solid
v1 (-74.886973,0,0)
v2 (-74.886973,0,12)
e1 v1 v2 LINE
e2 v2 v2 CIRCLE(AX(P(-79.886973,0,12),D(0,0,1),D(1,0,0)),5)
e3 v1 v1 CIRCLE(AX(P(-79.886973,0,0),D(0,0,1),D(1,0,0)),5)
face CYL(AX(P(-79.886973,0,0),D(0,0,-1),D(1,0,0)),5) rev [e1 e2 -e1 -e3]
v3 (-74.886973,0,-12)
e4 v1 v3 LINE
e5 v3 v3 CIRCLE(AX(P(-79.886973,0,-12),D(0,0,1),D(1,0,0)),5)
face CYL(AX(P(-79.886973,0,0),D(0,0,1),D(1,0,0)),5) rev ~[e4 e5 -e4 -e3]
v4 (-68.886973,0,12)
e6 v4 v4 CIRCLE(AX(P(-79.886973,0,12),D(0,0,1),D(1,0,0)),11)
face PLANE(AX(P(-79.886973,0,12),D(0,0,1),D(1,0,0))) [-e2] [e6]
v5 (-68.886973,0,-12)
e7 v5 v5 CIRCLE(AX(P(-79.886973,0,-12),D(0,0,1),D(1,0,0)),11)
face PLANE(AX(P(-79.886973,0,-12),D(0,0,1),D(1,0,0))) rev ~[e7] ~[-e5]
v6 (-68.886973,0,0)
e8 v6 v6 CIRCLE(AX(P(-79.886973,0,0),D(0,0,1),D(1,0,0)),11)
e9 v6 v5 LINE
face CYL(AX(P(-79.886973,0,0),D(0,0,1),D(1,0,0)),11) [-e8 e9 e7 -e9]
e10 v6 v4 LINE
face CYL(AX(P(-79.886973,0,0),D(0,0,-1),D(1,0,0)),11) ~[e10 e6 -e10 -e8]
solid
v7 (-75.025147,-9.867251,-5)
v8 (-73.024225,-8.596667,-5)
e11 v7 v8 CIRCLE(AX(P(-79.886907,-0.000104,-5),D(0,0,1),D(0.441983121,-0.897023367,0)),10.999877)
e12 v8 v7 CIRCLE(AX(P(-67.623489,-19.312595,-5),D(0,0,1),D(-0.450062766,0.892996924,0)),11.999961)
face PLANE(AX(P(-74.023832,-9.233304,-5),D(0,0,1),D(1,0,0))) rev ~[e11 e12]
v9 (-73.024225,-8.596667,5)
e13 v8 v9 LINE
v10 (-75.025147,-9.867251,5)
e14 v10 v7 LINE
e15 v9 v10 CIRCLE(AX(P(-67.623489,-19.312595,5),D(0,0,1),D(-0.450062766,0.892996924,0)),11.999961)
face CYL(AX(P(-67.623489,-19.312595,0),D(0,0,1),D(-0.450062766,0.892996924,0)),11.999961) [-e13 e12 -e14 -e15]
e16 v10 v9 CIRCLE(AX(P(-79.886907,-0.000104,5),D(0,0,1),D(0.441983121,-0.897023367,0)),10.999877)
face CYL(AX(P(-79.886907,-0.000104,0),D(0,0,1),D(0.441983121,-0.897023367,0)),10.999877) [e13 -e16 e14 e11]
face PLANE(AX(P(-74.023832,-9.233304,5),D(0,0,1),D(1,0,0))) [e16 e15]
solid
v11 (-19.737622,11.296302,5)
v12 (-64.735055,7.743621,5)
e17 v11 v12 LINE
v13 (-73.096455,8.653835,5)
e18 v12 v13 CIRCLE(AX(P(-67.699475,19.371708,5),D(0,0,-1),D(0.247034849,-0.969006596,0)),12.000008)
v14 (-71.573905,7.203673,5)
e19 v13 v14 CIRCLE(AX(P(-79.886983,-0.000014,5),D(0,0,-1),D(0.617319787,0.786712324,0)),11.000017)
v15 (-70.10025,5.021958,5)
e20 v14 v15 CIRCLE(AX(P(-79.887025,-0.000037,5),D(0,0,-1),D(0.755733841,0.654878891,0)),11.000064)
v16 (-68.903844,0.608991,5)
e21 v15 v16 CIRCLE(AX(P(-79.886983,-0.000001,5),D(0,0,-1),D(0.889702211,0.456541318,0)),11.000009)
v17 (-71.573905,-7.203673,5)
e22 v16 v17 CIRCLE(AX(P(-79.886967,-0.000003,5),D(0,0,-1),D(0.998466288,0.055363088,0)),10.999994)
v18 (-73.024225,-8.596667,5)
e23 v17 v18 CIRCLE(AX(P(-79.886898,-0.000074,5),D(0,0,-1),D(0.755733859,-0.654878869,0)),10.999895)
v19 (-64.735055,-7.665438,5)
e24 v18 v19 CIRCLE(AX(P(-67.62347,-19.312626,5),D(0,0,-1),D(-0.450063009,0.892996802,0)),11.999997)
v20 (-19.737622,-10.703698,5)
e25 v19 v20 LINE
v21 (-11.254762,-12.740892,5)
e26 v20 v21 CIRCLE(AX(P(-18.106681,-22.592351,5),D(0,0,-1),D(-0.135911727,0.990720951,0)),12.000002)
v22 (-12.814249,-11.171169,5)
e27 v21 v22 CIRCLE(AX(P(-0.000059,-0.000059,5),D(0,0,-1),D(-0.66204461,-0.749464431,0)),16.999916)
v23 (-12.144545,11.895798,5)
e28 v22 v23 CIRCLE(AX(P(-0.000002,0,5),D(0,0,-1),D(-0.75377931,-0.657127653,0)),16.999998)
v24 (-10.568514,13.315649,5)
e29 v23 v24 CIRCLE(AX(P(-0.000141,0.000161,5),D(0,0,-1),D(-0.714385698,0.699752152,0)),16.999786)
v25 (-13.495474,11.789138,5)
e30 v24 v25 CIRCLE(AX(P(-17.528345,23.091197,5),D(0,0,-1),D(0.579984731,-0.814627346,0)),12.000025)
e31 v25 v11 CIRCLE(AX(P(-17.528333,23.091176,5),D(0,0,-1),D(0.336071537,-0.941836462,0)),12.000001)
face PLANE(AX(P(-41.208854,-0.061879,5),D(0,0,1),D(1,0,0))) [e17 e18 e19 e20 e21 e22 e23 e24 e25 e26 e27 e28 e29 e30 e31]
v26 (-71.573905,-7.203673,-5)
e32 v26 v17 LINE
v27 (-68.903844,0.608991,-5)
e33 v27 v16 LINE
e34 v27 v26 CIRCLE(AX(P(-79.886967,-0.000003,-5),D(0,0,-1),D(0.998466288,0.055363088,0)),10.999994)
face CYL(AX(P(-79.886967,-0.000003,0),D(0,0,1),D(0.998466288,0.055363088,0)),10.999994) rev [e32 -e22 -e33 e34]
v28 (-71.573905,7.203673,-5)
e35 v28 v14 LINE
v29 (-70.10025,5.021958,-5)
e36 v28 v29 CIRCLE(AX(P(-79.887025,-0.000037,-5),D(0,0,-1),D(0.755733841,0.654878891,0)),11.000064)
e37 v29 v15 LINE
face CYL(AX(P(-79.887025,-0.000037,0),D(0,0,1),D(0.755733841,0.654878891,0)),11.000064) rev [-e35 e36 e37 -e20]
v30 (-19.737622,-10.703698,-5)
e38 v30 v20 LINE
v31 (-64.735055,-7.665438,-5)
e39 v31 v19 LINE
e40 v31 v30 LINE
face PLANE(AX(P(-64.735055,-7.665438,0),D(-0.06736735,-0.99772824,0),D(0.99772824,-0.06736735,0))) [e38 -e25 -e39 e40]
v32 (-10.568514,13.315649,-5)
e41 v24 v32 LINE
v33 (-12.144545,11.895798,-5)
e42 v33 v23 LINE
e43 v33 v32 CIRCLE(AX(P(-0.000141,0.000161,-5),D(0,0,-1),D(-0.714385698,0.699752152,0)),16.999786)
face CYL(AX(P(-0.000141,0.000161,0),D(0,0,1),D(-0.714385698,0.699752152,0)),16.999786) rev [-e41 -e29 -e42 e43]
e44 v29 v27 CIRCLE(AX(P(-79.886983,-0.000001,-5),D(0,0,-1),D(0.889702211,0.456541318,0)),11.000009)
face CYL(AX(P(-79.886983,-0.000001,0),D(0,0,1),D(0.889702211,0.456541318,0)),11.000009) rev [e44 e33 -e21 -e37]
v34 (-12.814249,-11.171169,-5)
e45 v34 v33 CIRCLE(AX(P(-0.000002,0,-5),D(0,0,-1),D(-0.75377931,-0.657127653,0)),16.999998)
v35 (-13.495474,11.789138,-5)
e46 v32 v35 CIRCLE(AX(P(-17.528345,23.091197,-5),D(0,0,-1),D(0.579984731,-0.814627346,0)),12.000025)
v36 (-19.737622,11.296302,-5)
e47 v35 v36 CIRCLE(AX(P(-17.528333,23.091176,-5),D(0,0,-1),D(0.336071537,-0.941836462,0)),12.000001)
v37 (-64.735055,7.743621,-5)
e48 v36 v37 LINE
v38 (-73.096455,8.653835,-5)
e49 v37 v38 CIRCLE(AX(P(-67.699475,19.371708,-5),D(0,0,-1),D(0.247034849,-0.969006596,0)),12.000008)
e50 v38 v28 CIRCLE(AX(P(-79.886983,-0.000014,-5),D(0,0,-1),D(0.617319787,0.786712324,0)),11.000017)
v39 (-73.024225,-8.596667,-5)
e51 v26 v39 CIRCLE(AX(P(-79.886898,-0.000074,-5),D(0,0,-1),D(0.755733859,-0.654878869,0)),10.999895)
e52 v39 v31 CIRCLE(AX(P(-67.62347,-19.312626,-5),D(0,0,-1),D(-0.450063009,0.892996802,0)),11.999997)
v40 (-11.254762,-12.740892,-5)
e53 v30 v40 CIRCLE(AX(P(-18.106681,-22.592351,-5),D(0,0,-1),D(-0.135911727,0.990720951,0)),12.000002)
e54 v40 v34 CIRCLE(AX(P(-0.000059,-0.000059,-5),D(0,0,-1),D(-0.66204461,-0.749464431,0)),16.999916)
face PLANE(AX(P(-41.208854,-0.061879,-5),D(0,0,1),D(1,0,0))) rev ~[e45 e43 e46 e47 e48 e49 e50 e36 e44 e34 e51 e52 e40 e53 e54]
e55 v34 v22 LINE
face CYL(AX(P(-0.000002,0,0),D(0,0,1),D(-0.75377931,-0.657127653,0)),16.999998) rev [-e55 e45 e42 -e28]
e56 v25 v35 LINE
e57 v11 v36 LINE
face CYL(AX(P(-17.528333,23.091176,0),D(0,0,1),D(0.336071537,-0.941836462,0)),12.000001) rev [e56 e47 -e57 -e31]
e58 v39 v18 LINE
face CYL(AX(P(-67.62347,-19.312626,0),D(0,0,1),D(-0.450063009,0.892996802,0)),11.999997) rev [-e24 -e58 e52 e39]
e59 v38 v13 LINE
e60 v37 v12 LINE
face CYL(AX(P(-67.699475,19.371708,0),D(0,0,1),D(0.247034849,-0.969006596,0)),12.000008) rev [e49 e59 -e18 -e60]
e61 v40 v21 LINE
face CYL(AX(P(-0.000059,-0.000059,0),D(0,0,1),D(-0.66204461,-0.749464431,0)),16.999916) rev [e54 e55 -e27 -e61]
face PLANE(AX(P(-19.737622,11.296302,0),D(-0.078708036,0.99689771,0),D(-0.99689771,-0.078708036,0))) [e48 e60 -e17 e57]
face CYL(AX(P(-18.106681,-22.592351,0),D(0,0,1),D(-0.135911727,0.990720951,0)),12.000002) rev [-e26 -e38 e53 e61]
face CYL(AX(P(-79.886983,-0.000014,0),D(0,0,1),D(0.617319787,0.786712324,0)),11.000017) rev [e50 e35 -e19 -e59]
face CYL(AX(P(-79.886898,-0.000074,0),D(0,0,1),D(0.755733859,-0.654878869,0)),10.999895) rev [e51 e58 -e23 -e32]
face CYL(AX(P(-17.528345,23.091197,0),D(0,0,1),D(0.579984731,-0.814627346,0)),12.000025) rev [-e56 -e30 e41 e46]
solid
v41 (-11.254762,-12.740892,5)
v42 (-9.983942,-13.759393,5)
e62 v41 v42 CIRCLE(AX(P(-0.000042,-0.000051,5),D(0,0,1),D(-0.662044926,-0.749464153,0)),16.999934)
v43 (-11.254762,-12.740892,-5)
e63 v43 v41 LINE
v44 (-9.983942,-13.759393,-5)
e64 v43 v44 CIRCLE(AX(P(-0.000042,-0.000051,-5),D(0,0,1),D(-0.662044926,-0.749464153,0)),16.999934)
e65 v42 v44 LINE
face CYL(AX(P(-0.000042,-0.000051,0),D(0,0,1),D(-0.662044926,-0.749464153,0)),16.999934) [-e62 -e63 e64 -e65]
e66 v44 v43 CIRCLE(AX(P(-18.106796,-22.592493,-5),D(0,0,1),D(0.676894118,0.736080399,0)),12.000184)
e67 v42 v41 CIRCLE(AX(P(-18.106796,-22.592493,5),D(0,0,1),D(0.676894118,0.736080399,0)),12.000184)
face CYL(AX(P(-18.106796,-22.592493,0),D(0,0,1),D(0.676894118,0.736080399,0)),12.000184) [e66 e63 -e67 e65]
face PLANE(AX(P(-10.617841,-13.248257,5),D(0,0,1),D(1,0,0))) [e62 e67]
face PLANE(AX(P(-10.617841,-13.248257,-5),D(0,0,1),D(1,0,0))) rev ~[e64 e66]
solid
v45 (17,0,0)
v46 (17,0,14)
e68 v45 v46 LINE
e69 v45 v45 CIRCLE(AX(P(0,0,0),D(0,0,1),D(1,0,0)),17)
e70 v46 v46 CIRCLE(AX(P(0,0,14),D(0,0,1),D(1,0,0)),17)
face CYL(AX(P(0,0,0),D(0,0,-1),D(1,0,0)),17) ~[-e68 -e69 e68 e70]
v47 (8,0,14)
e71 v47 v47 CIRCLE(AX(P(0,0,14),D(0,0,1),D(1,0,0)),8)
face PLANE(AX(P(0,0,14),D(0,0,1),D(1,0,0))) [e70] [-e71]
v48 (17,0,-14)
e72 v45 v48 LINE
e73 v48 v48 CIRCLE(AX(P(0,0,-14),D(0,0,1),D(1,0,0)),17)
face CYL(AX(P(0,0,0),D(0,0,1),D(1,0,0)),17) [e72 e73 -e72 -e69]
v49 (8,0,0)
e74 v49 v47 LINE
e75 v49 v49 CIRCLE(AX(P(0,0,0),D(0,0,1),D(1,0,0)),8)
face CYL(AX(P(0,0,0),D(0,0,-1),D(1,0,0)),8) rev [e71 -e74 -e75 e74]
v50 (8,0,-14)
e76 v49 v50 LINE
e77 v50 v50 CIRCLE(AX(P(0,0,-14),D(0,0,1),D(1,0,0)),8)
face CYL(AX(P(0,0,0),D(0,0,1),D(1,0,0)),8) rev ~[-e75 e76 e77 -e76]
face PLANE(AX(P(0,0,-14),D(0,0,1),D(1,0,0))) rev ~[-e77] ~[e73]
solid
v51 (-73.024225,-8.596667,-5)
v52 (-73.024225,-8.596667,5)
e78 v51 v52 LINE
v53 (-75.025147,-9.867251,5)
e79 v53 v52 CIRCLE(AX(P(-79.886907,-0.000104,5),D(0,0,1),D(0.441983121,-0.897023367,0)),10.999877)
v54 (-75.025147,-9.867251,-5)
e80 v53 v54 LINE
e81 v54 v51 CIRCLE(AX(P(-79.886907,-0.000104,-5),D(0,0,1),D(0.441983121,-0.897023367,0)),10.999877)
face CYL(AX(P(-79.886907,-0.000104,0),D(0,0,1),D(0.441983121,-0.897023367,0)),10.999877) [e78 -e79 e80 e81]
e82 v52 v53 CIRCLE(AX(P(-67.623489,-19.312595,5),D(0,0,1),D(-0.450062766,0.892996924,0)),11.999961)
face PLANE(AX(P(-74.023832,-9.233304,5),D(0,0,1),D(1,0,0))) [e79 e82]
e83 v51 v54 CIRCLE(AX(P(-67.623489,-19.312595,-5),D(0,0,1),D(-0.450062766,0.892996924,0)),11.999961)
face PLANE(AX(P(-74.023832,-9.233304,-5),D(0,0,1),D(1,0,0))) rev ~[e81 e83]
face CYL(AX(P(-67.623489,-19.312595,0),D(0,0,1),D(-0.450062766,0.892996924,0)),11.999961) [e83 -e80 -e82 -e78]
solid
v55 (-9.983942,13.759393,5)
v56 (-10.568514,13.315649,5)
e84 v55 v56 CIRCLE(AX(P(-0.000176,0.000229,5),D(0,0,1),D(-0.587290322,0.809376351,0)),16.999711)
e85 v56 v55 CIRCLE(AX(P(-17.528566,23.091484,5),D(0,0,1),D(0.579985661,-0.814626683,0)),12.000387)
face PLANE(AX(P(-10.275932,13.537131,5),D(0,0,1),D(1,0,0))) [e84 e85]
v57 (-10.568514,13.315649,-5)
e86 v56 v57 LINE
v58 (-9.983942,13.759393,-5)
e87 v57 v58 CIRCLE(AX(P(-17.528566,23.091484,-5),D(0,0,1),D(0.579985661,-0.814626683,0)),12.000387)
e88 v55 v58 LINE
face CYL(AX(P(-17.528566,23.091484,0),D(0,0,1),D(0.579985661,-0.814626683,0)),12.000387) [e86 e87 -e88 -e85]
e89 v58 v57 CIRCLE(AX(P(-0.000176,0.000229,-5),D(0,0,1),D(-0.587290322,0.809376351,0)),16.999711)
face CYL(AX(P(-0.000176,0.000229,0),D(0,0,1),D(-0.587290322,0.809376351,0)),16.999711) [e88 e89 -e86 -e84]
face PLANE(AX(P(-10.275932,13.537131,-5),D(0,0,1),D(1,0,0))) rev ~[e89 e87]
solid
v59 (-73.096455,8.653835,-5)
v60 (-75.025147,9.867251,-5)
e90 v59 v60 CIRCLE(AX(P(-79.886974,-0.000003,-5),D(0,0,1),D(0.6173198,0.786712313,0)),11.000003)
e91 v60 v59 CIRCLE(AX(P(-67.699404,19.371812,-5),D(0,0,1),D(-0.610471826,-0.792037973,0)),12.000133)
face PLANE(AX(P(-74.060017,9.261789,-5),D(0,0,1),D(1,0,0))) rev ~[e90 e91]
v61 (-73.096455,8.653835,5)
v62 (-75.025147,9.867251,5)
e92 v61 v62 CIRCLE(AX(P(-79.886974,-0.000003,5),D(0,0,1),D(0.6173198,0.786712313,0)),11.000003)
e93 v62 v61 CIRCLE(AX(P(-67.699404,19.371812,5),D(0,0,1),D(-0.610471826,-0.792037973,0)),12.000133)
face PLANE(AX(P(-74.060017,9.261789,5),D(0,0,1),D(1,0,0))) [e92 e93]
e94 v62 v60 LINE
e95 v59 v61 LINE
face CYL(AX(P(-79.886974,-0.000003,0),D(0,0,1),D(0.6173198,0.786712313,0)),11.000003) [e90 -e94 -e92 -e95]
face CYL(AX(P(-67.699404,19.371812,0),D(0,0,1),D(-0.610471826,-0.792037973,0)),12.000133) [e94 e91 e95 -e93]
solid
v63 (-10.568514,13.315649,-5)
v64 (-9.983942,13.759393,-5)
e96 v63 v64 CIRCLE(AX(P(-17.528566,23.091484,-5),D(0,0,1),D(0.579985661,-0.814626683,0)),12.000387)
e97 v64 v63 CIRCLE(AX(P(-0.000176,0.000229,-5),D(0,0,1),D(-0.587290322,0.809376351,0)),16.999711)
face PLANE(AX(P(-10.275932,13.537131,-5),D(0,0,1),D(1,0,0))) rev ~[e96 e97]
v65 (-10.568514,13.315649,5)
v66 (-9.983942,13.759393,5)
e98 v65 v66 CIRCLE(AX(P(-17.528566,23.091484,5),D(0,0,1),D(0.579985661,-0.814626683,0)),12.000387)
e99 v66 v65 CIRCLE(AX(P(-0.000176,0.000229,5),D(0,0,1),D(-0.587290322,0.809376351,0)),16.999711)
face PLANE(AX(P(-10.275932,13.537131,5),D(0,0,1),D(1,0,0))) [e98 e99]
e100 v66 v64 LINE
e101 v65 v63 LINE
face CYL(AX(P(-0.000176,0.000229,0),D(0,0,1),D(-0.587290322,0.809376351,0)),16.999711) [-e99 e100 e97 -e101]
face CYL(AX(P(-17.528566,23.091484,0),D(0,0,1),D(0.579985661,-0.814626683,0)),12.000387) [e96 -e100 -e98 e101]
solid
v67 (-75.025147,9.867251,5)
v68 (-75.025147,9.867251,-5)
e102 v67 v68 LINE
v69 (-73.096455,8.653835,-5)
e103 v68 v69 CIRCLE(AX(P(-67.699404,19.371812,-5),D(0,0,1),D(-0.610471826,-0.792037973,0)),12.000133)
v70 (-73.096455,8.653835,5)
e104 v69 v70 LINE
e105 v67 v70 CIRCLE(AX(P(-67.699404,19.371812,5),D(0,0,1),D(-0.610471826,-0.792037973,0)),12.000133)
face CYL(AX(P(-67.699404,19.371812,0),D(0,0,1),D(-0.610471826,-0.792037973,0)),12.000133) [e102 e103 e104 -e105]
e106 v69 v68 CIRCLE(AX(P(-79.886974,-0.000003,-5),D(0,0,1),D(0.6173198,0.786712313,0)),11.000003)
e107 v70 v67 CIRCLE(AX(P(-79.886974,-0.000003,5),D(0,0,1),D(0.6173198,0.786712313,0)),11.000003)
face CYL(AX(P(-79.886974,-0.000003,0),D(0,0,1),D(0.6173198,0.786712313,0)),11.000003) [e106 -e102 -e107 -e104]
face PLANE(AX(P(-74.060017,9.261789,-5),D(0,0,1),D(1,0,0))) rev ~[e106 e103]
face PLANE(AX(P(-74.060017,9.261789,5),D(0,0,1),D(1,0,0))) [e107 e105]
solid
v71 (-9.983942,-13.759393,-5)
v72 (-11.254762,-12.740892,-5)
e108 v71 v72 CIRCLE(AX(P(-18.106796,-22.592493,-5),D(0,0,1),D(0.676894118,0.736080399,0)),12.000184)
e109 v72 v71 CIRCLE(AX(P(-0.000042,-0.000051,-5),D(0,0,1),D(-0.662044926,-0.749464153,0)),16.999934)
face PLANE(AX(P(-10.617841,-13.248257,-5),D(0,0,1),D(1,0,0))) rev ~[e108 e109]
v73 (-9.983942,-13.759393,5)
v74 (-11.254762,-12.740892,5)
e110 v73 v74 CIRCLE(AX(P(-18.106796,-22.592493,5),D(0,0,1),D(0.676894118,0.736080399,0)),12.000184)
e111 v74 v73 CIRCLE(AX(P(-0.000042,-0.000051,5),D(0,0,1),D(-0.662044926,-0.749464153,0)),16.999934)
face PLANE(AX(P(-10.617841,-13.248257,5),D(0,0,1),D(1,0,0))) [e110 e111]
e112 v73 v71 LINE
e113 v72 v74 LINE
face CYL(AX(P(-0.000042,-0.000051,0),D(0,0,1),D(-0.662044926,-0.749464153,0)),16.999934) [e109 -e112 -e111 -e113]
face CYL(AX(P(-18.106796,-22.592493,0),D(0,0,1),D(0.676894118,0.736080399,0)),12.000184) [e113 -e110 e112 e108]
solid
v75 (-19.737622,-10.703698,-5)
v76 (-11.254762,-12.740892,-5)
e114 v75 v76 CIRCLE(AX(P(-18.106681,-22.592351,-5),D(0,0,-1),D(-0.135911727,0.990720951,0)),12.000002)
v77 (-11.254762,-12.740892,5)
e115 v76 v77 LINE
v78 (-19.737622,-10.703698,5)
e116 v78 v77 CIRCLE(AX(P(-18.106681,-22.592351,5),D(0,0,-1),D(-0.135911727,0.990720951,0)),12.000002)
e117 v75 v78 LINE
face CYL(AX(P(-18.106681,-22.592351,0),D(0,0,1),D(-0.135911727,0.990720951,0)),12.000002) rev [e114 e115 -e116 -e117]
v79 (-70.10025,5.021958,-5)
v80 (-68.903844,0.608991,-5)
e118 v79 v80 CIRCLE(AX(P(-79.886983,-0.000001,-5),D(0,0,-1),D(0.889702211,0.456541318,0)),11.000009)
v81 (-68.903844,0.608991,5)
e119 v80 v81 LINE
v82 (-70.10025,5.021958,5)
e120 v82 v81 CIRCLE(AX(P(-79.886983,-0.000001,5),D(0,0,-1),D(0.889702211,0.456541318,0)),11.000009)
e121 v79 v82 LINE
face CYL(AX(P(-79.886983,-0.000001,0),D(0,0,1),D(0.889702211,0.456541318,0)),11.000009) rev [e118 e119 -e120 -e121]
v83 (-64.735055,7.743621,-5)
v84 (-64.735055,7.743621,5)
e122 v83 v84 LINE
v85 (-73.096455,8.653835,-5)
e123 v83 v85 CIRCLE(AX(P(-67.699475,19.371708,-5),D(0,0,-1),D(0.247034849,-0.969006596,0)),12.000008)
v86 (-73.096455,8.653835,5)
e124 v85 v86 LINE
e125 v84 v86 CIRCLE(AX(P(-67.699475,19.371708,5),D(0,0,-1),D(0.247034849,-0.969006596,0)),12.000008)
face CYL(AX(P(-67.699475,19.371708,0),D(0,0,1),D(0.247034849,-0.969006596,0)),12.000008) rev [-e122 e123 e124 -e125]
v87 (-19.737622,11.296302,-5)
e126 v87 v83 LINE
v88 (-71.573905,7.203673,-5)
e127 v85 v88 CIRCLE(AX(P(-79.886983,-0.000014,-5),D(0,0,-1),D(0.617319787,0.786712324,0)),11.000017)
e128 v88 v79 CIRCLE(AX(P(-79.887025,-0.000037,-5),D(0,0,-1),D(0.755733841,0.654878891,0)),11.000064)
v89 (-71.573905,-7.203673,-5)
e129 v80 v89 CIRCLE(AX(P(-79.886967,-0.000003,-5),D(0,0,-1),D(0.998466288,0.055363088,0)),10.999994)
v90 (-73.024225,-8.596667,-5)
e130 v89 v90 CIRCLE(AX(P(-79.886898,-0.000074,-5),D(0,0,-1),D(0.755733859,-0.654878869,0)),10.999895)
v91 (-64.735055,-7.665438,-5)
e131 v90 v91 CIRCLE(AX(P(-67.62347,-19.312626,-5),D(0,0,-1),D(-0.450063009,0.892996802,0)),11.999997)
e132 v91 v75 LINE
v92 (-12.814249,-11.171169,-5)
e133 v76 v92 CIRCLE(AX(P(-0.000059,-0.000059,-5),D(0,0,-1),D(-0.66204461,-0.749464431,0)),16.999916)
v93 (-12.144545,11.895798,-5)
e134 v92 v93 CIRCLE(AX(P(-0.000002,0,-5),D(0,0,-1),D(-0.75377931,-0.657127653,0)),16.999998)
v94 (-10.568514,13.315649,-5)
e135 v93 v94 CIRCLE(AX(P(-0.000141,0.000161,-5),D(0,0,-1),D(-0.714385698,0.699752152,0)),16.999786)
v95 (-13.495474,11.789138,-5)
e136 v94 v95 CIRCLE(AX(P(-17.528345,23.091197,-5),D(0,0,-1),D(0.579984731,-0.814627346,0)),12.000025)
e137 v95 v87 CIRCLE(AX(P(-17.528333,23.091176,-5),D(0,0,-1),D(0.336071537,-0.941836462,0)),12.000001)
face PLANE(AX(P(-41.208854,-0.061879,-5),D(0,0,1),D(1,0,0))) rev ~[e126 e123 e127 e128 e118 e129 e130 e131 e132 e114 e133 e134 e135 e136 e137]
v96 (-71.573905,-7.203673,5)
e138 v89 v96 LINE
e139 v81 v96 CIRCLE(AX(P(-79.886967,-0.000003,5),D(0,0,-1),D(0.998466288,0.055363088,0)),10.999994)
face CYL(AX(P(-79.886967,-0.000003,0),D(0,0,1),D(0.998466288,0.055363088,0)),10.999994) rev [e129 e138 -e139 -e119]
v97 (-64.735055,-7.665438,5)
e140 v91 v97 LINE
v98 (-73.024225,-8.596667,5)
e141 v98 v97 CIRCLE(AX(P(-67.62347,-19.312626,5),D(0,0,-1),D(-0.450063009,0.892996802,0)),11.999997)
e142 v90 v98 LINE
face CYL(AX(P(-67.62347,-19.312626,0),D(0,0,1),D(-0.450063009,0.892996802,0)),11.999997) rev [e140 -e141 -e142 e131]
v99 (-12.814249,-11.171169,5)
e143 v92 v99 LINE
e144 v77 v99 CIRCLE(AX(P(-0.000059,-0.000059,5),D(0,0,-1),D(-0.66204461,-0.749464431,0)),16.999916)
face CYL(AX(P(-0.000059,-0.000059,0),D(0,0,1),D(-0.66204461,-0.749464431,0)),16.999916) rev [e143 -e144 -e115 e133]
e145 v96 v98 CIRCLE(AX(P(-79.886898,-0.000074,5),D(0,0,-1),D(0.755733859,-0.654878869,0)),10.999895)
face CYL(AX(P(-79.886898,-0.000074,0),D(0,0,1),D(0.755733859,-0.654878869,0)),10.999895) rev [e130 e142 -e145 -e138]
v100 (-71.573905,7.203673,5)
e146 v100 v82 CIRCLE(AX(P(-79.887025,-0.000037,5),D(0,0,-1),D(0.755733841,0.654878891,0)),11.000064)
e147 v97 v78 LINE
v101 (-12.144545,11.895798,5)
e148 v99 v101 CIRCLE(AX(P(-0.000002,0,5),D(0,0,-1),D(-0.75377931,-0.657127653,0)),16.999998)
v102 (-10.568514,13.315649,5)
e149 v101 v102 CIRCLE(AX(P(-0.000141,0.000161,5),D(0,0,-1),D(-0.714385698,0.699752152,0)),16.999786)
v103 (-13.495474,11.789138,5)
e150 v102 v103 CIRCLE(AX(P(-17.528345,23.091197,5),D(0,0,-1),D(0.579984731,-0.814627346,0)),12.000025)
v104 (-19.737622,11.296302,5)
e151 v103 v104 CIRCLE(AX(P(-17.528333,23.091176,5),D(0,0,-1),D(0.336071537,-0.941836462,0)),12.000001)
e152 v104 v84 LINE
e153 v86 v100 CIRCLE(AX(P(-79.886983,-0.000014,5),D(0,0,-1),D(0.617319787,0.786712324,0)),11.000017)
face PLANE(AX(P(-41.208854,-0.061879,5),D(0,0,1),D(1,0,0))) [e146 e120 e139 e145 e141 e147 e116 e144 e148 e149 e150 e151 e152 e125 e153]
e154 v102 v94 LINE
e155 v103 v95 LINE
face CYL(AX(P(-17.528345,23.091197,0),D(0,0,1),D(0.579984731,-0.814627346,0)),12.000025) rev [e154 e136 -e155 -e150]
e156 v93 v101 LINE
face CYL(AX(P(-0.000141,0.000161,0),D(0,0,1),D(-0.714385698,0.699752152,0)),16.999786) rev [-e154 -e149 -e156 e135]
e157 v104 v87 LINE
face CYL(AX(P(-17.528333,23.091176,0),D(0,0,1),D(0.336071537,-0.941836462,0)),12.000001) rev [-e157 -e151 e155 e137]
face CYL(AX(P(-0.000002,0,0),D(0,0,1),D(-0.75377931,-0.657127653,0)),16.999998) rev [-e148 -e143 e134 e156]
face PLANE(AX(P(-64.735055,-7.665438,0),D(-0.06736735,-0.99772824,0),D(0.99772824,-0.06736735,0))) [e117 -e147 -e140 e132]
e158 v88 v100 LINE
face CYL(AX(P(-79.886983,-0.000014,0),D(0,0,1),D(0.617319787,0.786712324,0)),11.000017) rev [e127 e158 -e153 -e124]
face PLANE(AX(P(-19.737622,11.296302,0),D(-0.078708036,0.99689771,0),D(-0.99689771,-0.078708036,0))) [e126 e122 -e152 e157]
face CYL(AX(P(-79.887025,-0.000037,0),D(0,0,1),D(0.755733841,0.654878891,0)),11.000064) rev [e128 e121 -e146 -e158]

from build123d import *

# Parameters (mm, degrees)
F0_R      = 17
F0_R_2    = 8
F1_DEPTH  = 14
F2_R      = 17
F2_R_2    = 8
F3_DEPTH  = 14
F4_R      = 11
F4_R_2    = 5
F5_DEPTH  = 12
F6_R      = 11
F6_R_2    = 5
F7_DEPTH  = 12
F9_DEPTH  = 5
F10_DEPTH = 5


with BuildPart() as f1:
    # F0 (on Top) → F1 (new body)
    with BuildSketch(Plane.XY):
        Circle(F0_R)
        Circle(F0_R_2, mode=Mode.SUBTRACT)
    extrude(amount=-F1_DEPTH)

    # F2 (on face) → F3 (join)
    with BuildSketch(Plane.XY):
        Circle(F2_R)
        Circle(F2_R_2, mode=Mode.SUBTRACT)
    extrude(amount=F3_DEPTH)


with BuildPart() as f5:
    # F4 (on Top) → F5 (new body)
    with BuildSketch(Plane.XY):
        with Locations((-79.886973, 0)):
            Circle(F4_R)
        with Locations((-79.886973, 0)):
            Circle(F4_R_2, mode=Mode.SUBTRACT)
    extrude(amount=-F5_DEPTH)

    # F6 (on Top) → F7 (join)
    with BuildSketch(Plane.XY):
        with Locations((-79.886973, 0)):
            Circle(F6_R)
        with Locations((-79.886973, 0)):
            Circle(F6_R_2, mode=Mode.SUBTRACT)
    extrude(amount=F7_DEPTH)


with BuildPart() as f9:
    # F8 (on Top) → F9 (new body, symmetric)
    with BuildSketch(Plane.XY):
        with BuildLine():
            ThreePointArc((-9.983942, 13.759393), (-10.278623, 13.540676), (-10.568514, 13.315649))
            ThreePointArc((-10.568514, 13.315649), (-10.272835, 13.533051), (-9.983942, 13.759393))
        make_face()
        with BuildLine():
            ThreePointArc((-9.983942, -13.759393), (-10.602054, -13.228559), (-11.254762, -12.740892))
            ThreePointArc((-11.254762, -12.740892), (-10.631556, -13.265369), (-9.983942, -13.759393))
        make_face()
        with BuildLine():
            ThreePointArc((-75.025147, -9.867251), (-73.990363, -9.286011), (-73.024225, -8.596667))
            ThreePointArc((-73.024225, -8.596667), (-74.056134, -9.182435), (-75.025147, -9.867251))
        make_face()
        with BuildLine():
            ThreePointArc((-75.025147, 9.867251), (-74.089668, 9.214661), (-73.096455, 8.653835))
            ThreePointArc((-73.096455, 8.653835), (-74.029297, 9.310619), (-75.025147, 9.867251))
        make_face()
        with BuildLine():
            Line((-19.737622, 11.296302), (-64.735055, 7.743621))
            ThreePointArc((-64.735055, 7.743621), (-68.998113, 7.442176), (-73.096455, 8.653835))
            ThreePointArc((-73.096455, 8.653835), (-72.300451, 7.965217), (-71.573905, 7.203673))
            ThreePointArc((-71.573905, 7.203673), (-70.77157, 6.157063), (-70.10025, 5.021958))
            ThreePointArc((-70.10025, 5.021958), (-69.270229, 2.878323), (-68.903844, 0.608991))
            ThreePointArc((-68.903844, 0.608991), (-69.478071, -3.557354), (-71.573905, -7.203673))
            ThreePointArc((-71.573905, -7.203673), (-72.267166, -7.933382), (-73.024225, -8.596667))
            ThreePointArc((-73.024225, -8.596667), (-68.963156, -7.387645), (-64.735055, -7.665438))
            Line((-64.735055, -7.665438), (-19.737622, -10.703698))
            ThreePointArc((-19.737622, -10.703698), (-15.304505, -10.92411), (-11.254762, -12.740892))
            ThreePointArc((-11.254762, -12.740892), (-12.060072, -11.98143), (-12.814249, -11.171169))
            ThreePointArc((-12.814249, -11.171169), (-16.99284, 0.493353), (-12.144545, 11.895798))
            Line((-12.144545, 11.895798), (-13.495474, 11.789138))
            ThreePointArc((-13.495474, 11.789138), (-16.583836, 11.128403), (-19.737622, 11.296302))
        make_face()
        with BuildLine():
            ThreePointArc((-10.568514, 13.315649), (-11.979252, 12.451265), (-13.495474, 11.789138))
            Line((-13.495474, 11.789138), (-12.144545, 11.895798))
            ThreePointArc((-12.144545, 11.895798), (-11.378698, 12.63033), (-10.568514, 13.315649))
        make_face()
    extrude(amount=F9_DEPTH, both=True)


with BuildPart() as f10:
    # F8 (on Top) → F10 (new body, symmetric)
    with BuildSketch(Plane.XY):
        with BuildLine():
            ThreePointArc((-9.983942, 13.759393), (-10.278623, 13.540676), (-10.568514, 13.315649))
            ThreePointArc((-10.568514, 13.315649), (-10.272835, 13.533051), (-9.983942, 13.759393))
        make_face()
        with BuildLine():
            ThreePointArc((-9.983942, -13.759393), (-10.602054, -13.228559), (-11.254762, -12.740892))
            ThreePointArc((-11.254762, -12.740892), (-10.631556, -13.265369), (-9.983942, -13.759393))
        make_face()
        with BuildLine():
            ThreePointArc((-75.025147, -9.867251), (-73.990363, -9.286011), (-73.024225, -8.596667))
            ThreePointArc((-73.024225, -8.596667), (-74.056134, -9.182435), (-75.025147, -9.867251))
        make_face()
        with BuildLine():
            ThreePointArc((-75.025147, 9.867251), (-74.089668, 9.214661), (-73.096455, 8.653835))
            ThreePointArc((-73.096455, 8.653835), (-74.029297, 9.310619), (-75.025147, 9.867251))
        make_face()
        with BuildLine():
            Line((-19.737622, 11.296302), (-64.735055, 7.743621))
            ThreePointArc((-64.735055, 7.743621), (-68.998113, 7.442176), (-73.096455, 8.653835))
            ThreePointArc((-73.096455, 8.653835), (-72.300451, 7.965217), (-71.573905, 7.203673))
            ThreePointArc((-71.573905, 7.203673), (-70.77157, 6.157063), (-70.10025, 5.021958))
            ThreePointArc((-70.10025, 5.021958), (-69.270229, 2.878323), (-68.903844, 0.608991))
            ThreePointArc((-68.903844, 0.608991), (-69.478071, -3.557354), (-71.573905, -7.203673))
            ThreePointArc((-71.573905, -7.203673), (-72.267166, -7.933382), (-73.024225, -8.596667))
            ThreePointArc((-73.024225, -8.596667), (-68.963156, -7.387645), (-64.735055, -7.665438))
            Line((-64.735055, -7.665438), (-19.737622, -10.703698))
            ThreePointArc((-19.737622, -10.703698), (-15.304505, -10.92411), (-11.254762, -12.740892))
            ThreePointArc((-11.254762, -12.740892), (-12.060072, -11.98143), (-12.814249, -11.171169))
            ThreePointArc((-12.814249, -11.171169), (-16.99284, 0.493353), (-12.144545, 11.895798))
            Line((-12.144545, 11.895798), (-13.495474, 11.789138))
            ThreePointArc((-13.495474, 11.789138), (-16.583836, 11.128403), (-19.737622, 11.296302))
        make_face()
        with BuildLine():
            ThreePointArc((-10.568514, 13.315649), (-11.979252, 12.451265), (-13.495474, 11.789138))
            Line((-13.495474, 11.789138), (-12.144545, 11.895798))
            ThreePointArc((-12.144545, 11.895798), (-11.378698, 12.63033), (-10.568514, 13.315649))
        make_face()
    extrude(amount=F10_DEPTH, both=True)


solid = Compound([f1.part, f5.part, f9.part, f10.part])
